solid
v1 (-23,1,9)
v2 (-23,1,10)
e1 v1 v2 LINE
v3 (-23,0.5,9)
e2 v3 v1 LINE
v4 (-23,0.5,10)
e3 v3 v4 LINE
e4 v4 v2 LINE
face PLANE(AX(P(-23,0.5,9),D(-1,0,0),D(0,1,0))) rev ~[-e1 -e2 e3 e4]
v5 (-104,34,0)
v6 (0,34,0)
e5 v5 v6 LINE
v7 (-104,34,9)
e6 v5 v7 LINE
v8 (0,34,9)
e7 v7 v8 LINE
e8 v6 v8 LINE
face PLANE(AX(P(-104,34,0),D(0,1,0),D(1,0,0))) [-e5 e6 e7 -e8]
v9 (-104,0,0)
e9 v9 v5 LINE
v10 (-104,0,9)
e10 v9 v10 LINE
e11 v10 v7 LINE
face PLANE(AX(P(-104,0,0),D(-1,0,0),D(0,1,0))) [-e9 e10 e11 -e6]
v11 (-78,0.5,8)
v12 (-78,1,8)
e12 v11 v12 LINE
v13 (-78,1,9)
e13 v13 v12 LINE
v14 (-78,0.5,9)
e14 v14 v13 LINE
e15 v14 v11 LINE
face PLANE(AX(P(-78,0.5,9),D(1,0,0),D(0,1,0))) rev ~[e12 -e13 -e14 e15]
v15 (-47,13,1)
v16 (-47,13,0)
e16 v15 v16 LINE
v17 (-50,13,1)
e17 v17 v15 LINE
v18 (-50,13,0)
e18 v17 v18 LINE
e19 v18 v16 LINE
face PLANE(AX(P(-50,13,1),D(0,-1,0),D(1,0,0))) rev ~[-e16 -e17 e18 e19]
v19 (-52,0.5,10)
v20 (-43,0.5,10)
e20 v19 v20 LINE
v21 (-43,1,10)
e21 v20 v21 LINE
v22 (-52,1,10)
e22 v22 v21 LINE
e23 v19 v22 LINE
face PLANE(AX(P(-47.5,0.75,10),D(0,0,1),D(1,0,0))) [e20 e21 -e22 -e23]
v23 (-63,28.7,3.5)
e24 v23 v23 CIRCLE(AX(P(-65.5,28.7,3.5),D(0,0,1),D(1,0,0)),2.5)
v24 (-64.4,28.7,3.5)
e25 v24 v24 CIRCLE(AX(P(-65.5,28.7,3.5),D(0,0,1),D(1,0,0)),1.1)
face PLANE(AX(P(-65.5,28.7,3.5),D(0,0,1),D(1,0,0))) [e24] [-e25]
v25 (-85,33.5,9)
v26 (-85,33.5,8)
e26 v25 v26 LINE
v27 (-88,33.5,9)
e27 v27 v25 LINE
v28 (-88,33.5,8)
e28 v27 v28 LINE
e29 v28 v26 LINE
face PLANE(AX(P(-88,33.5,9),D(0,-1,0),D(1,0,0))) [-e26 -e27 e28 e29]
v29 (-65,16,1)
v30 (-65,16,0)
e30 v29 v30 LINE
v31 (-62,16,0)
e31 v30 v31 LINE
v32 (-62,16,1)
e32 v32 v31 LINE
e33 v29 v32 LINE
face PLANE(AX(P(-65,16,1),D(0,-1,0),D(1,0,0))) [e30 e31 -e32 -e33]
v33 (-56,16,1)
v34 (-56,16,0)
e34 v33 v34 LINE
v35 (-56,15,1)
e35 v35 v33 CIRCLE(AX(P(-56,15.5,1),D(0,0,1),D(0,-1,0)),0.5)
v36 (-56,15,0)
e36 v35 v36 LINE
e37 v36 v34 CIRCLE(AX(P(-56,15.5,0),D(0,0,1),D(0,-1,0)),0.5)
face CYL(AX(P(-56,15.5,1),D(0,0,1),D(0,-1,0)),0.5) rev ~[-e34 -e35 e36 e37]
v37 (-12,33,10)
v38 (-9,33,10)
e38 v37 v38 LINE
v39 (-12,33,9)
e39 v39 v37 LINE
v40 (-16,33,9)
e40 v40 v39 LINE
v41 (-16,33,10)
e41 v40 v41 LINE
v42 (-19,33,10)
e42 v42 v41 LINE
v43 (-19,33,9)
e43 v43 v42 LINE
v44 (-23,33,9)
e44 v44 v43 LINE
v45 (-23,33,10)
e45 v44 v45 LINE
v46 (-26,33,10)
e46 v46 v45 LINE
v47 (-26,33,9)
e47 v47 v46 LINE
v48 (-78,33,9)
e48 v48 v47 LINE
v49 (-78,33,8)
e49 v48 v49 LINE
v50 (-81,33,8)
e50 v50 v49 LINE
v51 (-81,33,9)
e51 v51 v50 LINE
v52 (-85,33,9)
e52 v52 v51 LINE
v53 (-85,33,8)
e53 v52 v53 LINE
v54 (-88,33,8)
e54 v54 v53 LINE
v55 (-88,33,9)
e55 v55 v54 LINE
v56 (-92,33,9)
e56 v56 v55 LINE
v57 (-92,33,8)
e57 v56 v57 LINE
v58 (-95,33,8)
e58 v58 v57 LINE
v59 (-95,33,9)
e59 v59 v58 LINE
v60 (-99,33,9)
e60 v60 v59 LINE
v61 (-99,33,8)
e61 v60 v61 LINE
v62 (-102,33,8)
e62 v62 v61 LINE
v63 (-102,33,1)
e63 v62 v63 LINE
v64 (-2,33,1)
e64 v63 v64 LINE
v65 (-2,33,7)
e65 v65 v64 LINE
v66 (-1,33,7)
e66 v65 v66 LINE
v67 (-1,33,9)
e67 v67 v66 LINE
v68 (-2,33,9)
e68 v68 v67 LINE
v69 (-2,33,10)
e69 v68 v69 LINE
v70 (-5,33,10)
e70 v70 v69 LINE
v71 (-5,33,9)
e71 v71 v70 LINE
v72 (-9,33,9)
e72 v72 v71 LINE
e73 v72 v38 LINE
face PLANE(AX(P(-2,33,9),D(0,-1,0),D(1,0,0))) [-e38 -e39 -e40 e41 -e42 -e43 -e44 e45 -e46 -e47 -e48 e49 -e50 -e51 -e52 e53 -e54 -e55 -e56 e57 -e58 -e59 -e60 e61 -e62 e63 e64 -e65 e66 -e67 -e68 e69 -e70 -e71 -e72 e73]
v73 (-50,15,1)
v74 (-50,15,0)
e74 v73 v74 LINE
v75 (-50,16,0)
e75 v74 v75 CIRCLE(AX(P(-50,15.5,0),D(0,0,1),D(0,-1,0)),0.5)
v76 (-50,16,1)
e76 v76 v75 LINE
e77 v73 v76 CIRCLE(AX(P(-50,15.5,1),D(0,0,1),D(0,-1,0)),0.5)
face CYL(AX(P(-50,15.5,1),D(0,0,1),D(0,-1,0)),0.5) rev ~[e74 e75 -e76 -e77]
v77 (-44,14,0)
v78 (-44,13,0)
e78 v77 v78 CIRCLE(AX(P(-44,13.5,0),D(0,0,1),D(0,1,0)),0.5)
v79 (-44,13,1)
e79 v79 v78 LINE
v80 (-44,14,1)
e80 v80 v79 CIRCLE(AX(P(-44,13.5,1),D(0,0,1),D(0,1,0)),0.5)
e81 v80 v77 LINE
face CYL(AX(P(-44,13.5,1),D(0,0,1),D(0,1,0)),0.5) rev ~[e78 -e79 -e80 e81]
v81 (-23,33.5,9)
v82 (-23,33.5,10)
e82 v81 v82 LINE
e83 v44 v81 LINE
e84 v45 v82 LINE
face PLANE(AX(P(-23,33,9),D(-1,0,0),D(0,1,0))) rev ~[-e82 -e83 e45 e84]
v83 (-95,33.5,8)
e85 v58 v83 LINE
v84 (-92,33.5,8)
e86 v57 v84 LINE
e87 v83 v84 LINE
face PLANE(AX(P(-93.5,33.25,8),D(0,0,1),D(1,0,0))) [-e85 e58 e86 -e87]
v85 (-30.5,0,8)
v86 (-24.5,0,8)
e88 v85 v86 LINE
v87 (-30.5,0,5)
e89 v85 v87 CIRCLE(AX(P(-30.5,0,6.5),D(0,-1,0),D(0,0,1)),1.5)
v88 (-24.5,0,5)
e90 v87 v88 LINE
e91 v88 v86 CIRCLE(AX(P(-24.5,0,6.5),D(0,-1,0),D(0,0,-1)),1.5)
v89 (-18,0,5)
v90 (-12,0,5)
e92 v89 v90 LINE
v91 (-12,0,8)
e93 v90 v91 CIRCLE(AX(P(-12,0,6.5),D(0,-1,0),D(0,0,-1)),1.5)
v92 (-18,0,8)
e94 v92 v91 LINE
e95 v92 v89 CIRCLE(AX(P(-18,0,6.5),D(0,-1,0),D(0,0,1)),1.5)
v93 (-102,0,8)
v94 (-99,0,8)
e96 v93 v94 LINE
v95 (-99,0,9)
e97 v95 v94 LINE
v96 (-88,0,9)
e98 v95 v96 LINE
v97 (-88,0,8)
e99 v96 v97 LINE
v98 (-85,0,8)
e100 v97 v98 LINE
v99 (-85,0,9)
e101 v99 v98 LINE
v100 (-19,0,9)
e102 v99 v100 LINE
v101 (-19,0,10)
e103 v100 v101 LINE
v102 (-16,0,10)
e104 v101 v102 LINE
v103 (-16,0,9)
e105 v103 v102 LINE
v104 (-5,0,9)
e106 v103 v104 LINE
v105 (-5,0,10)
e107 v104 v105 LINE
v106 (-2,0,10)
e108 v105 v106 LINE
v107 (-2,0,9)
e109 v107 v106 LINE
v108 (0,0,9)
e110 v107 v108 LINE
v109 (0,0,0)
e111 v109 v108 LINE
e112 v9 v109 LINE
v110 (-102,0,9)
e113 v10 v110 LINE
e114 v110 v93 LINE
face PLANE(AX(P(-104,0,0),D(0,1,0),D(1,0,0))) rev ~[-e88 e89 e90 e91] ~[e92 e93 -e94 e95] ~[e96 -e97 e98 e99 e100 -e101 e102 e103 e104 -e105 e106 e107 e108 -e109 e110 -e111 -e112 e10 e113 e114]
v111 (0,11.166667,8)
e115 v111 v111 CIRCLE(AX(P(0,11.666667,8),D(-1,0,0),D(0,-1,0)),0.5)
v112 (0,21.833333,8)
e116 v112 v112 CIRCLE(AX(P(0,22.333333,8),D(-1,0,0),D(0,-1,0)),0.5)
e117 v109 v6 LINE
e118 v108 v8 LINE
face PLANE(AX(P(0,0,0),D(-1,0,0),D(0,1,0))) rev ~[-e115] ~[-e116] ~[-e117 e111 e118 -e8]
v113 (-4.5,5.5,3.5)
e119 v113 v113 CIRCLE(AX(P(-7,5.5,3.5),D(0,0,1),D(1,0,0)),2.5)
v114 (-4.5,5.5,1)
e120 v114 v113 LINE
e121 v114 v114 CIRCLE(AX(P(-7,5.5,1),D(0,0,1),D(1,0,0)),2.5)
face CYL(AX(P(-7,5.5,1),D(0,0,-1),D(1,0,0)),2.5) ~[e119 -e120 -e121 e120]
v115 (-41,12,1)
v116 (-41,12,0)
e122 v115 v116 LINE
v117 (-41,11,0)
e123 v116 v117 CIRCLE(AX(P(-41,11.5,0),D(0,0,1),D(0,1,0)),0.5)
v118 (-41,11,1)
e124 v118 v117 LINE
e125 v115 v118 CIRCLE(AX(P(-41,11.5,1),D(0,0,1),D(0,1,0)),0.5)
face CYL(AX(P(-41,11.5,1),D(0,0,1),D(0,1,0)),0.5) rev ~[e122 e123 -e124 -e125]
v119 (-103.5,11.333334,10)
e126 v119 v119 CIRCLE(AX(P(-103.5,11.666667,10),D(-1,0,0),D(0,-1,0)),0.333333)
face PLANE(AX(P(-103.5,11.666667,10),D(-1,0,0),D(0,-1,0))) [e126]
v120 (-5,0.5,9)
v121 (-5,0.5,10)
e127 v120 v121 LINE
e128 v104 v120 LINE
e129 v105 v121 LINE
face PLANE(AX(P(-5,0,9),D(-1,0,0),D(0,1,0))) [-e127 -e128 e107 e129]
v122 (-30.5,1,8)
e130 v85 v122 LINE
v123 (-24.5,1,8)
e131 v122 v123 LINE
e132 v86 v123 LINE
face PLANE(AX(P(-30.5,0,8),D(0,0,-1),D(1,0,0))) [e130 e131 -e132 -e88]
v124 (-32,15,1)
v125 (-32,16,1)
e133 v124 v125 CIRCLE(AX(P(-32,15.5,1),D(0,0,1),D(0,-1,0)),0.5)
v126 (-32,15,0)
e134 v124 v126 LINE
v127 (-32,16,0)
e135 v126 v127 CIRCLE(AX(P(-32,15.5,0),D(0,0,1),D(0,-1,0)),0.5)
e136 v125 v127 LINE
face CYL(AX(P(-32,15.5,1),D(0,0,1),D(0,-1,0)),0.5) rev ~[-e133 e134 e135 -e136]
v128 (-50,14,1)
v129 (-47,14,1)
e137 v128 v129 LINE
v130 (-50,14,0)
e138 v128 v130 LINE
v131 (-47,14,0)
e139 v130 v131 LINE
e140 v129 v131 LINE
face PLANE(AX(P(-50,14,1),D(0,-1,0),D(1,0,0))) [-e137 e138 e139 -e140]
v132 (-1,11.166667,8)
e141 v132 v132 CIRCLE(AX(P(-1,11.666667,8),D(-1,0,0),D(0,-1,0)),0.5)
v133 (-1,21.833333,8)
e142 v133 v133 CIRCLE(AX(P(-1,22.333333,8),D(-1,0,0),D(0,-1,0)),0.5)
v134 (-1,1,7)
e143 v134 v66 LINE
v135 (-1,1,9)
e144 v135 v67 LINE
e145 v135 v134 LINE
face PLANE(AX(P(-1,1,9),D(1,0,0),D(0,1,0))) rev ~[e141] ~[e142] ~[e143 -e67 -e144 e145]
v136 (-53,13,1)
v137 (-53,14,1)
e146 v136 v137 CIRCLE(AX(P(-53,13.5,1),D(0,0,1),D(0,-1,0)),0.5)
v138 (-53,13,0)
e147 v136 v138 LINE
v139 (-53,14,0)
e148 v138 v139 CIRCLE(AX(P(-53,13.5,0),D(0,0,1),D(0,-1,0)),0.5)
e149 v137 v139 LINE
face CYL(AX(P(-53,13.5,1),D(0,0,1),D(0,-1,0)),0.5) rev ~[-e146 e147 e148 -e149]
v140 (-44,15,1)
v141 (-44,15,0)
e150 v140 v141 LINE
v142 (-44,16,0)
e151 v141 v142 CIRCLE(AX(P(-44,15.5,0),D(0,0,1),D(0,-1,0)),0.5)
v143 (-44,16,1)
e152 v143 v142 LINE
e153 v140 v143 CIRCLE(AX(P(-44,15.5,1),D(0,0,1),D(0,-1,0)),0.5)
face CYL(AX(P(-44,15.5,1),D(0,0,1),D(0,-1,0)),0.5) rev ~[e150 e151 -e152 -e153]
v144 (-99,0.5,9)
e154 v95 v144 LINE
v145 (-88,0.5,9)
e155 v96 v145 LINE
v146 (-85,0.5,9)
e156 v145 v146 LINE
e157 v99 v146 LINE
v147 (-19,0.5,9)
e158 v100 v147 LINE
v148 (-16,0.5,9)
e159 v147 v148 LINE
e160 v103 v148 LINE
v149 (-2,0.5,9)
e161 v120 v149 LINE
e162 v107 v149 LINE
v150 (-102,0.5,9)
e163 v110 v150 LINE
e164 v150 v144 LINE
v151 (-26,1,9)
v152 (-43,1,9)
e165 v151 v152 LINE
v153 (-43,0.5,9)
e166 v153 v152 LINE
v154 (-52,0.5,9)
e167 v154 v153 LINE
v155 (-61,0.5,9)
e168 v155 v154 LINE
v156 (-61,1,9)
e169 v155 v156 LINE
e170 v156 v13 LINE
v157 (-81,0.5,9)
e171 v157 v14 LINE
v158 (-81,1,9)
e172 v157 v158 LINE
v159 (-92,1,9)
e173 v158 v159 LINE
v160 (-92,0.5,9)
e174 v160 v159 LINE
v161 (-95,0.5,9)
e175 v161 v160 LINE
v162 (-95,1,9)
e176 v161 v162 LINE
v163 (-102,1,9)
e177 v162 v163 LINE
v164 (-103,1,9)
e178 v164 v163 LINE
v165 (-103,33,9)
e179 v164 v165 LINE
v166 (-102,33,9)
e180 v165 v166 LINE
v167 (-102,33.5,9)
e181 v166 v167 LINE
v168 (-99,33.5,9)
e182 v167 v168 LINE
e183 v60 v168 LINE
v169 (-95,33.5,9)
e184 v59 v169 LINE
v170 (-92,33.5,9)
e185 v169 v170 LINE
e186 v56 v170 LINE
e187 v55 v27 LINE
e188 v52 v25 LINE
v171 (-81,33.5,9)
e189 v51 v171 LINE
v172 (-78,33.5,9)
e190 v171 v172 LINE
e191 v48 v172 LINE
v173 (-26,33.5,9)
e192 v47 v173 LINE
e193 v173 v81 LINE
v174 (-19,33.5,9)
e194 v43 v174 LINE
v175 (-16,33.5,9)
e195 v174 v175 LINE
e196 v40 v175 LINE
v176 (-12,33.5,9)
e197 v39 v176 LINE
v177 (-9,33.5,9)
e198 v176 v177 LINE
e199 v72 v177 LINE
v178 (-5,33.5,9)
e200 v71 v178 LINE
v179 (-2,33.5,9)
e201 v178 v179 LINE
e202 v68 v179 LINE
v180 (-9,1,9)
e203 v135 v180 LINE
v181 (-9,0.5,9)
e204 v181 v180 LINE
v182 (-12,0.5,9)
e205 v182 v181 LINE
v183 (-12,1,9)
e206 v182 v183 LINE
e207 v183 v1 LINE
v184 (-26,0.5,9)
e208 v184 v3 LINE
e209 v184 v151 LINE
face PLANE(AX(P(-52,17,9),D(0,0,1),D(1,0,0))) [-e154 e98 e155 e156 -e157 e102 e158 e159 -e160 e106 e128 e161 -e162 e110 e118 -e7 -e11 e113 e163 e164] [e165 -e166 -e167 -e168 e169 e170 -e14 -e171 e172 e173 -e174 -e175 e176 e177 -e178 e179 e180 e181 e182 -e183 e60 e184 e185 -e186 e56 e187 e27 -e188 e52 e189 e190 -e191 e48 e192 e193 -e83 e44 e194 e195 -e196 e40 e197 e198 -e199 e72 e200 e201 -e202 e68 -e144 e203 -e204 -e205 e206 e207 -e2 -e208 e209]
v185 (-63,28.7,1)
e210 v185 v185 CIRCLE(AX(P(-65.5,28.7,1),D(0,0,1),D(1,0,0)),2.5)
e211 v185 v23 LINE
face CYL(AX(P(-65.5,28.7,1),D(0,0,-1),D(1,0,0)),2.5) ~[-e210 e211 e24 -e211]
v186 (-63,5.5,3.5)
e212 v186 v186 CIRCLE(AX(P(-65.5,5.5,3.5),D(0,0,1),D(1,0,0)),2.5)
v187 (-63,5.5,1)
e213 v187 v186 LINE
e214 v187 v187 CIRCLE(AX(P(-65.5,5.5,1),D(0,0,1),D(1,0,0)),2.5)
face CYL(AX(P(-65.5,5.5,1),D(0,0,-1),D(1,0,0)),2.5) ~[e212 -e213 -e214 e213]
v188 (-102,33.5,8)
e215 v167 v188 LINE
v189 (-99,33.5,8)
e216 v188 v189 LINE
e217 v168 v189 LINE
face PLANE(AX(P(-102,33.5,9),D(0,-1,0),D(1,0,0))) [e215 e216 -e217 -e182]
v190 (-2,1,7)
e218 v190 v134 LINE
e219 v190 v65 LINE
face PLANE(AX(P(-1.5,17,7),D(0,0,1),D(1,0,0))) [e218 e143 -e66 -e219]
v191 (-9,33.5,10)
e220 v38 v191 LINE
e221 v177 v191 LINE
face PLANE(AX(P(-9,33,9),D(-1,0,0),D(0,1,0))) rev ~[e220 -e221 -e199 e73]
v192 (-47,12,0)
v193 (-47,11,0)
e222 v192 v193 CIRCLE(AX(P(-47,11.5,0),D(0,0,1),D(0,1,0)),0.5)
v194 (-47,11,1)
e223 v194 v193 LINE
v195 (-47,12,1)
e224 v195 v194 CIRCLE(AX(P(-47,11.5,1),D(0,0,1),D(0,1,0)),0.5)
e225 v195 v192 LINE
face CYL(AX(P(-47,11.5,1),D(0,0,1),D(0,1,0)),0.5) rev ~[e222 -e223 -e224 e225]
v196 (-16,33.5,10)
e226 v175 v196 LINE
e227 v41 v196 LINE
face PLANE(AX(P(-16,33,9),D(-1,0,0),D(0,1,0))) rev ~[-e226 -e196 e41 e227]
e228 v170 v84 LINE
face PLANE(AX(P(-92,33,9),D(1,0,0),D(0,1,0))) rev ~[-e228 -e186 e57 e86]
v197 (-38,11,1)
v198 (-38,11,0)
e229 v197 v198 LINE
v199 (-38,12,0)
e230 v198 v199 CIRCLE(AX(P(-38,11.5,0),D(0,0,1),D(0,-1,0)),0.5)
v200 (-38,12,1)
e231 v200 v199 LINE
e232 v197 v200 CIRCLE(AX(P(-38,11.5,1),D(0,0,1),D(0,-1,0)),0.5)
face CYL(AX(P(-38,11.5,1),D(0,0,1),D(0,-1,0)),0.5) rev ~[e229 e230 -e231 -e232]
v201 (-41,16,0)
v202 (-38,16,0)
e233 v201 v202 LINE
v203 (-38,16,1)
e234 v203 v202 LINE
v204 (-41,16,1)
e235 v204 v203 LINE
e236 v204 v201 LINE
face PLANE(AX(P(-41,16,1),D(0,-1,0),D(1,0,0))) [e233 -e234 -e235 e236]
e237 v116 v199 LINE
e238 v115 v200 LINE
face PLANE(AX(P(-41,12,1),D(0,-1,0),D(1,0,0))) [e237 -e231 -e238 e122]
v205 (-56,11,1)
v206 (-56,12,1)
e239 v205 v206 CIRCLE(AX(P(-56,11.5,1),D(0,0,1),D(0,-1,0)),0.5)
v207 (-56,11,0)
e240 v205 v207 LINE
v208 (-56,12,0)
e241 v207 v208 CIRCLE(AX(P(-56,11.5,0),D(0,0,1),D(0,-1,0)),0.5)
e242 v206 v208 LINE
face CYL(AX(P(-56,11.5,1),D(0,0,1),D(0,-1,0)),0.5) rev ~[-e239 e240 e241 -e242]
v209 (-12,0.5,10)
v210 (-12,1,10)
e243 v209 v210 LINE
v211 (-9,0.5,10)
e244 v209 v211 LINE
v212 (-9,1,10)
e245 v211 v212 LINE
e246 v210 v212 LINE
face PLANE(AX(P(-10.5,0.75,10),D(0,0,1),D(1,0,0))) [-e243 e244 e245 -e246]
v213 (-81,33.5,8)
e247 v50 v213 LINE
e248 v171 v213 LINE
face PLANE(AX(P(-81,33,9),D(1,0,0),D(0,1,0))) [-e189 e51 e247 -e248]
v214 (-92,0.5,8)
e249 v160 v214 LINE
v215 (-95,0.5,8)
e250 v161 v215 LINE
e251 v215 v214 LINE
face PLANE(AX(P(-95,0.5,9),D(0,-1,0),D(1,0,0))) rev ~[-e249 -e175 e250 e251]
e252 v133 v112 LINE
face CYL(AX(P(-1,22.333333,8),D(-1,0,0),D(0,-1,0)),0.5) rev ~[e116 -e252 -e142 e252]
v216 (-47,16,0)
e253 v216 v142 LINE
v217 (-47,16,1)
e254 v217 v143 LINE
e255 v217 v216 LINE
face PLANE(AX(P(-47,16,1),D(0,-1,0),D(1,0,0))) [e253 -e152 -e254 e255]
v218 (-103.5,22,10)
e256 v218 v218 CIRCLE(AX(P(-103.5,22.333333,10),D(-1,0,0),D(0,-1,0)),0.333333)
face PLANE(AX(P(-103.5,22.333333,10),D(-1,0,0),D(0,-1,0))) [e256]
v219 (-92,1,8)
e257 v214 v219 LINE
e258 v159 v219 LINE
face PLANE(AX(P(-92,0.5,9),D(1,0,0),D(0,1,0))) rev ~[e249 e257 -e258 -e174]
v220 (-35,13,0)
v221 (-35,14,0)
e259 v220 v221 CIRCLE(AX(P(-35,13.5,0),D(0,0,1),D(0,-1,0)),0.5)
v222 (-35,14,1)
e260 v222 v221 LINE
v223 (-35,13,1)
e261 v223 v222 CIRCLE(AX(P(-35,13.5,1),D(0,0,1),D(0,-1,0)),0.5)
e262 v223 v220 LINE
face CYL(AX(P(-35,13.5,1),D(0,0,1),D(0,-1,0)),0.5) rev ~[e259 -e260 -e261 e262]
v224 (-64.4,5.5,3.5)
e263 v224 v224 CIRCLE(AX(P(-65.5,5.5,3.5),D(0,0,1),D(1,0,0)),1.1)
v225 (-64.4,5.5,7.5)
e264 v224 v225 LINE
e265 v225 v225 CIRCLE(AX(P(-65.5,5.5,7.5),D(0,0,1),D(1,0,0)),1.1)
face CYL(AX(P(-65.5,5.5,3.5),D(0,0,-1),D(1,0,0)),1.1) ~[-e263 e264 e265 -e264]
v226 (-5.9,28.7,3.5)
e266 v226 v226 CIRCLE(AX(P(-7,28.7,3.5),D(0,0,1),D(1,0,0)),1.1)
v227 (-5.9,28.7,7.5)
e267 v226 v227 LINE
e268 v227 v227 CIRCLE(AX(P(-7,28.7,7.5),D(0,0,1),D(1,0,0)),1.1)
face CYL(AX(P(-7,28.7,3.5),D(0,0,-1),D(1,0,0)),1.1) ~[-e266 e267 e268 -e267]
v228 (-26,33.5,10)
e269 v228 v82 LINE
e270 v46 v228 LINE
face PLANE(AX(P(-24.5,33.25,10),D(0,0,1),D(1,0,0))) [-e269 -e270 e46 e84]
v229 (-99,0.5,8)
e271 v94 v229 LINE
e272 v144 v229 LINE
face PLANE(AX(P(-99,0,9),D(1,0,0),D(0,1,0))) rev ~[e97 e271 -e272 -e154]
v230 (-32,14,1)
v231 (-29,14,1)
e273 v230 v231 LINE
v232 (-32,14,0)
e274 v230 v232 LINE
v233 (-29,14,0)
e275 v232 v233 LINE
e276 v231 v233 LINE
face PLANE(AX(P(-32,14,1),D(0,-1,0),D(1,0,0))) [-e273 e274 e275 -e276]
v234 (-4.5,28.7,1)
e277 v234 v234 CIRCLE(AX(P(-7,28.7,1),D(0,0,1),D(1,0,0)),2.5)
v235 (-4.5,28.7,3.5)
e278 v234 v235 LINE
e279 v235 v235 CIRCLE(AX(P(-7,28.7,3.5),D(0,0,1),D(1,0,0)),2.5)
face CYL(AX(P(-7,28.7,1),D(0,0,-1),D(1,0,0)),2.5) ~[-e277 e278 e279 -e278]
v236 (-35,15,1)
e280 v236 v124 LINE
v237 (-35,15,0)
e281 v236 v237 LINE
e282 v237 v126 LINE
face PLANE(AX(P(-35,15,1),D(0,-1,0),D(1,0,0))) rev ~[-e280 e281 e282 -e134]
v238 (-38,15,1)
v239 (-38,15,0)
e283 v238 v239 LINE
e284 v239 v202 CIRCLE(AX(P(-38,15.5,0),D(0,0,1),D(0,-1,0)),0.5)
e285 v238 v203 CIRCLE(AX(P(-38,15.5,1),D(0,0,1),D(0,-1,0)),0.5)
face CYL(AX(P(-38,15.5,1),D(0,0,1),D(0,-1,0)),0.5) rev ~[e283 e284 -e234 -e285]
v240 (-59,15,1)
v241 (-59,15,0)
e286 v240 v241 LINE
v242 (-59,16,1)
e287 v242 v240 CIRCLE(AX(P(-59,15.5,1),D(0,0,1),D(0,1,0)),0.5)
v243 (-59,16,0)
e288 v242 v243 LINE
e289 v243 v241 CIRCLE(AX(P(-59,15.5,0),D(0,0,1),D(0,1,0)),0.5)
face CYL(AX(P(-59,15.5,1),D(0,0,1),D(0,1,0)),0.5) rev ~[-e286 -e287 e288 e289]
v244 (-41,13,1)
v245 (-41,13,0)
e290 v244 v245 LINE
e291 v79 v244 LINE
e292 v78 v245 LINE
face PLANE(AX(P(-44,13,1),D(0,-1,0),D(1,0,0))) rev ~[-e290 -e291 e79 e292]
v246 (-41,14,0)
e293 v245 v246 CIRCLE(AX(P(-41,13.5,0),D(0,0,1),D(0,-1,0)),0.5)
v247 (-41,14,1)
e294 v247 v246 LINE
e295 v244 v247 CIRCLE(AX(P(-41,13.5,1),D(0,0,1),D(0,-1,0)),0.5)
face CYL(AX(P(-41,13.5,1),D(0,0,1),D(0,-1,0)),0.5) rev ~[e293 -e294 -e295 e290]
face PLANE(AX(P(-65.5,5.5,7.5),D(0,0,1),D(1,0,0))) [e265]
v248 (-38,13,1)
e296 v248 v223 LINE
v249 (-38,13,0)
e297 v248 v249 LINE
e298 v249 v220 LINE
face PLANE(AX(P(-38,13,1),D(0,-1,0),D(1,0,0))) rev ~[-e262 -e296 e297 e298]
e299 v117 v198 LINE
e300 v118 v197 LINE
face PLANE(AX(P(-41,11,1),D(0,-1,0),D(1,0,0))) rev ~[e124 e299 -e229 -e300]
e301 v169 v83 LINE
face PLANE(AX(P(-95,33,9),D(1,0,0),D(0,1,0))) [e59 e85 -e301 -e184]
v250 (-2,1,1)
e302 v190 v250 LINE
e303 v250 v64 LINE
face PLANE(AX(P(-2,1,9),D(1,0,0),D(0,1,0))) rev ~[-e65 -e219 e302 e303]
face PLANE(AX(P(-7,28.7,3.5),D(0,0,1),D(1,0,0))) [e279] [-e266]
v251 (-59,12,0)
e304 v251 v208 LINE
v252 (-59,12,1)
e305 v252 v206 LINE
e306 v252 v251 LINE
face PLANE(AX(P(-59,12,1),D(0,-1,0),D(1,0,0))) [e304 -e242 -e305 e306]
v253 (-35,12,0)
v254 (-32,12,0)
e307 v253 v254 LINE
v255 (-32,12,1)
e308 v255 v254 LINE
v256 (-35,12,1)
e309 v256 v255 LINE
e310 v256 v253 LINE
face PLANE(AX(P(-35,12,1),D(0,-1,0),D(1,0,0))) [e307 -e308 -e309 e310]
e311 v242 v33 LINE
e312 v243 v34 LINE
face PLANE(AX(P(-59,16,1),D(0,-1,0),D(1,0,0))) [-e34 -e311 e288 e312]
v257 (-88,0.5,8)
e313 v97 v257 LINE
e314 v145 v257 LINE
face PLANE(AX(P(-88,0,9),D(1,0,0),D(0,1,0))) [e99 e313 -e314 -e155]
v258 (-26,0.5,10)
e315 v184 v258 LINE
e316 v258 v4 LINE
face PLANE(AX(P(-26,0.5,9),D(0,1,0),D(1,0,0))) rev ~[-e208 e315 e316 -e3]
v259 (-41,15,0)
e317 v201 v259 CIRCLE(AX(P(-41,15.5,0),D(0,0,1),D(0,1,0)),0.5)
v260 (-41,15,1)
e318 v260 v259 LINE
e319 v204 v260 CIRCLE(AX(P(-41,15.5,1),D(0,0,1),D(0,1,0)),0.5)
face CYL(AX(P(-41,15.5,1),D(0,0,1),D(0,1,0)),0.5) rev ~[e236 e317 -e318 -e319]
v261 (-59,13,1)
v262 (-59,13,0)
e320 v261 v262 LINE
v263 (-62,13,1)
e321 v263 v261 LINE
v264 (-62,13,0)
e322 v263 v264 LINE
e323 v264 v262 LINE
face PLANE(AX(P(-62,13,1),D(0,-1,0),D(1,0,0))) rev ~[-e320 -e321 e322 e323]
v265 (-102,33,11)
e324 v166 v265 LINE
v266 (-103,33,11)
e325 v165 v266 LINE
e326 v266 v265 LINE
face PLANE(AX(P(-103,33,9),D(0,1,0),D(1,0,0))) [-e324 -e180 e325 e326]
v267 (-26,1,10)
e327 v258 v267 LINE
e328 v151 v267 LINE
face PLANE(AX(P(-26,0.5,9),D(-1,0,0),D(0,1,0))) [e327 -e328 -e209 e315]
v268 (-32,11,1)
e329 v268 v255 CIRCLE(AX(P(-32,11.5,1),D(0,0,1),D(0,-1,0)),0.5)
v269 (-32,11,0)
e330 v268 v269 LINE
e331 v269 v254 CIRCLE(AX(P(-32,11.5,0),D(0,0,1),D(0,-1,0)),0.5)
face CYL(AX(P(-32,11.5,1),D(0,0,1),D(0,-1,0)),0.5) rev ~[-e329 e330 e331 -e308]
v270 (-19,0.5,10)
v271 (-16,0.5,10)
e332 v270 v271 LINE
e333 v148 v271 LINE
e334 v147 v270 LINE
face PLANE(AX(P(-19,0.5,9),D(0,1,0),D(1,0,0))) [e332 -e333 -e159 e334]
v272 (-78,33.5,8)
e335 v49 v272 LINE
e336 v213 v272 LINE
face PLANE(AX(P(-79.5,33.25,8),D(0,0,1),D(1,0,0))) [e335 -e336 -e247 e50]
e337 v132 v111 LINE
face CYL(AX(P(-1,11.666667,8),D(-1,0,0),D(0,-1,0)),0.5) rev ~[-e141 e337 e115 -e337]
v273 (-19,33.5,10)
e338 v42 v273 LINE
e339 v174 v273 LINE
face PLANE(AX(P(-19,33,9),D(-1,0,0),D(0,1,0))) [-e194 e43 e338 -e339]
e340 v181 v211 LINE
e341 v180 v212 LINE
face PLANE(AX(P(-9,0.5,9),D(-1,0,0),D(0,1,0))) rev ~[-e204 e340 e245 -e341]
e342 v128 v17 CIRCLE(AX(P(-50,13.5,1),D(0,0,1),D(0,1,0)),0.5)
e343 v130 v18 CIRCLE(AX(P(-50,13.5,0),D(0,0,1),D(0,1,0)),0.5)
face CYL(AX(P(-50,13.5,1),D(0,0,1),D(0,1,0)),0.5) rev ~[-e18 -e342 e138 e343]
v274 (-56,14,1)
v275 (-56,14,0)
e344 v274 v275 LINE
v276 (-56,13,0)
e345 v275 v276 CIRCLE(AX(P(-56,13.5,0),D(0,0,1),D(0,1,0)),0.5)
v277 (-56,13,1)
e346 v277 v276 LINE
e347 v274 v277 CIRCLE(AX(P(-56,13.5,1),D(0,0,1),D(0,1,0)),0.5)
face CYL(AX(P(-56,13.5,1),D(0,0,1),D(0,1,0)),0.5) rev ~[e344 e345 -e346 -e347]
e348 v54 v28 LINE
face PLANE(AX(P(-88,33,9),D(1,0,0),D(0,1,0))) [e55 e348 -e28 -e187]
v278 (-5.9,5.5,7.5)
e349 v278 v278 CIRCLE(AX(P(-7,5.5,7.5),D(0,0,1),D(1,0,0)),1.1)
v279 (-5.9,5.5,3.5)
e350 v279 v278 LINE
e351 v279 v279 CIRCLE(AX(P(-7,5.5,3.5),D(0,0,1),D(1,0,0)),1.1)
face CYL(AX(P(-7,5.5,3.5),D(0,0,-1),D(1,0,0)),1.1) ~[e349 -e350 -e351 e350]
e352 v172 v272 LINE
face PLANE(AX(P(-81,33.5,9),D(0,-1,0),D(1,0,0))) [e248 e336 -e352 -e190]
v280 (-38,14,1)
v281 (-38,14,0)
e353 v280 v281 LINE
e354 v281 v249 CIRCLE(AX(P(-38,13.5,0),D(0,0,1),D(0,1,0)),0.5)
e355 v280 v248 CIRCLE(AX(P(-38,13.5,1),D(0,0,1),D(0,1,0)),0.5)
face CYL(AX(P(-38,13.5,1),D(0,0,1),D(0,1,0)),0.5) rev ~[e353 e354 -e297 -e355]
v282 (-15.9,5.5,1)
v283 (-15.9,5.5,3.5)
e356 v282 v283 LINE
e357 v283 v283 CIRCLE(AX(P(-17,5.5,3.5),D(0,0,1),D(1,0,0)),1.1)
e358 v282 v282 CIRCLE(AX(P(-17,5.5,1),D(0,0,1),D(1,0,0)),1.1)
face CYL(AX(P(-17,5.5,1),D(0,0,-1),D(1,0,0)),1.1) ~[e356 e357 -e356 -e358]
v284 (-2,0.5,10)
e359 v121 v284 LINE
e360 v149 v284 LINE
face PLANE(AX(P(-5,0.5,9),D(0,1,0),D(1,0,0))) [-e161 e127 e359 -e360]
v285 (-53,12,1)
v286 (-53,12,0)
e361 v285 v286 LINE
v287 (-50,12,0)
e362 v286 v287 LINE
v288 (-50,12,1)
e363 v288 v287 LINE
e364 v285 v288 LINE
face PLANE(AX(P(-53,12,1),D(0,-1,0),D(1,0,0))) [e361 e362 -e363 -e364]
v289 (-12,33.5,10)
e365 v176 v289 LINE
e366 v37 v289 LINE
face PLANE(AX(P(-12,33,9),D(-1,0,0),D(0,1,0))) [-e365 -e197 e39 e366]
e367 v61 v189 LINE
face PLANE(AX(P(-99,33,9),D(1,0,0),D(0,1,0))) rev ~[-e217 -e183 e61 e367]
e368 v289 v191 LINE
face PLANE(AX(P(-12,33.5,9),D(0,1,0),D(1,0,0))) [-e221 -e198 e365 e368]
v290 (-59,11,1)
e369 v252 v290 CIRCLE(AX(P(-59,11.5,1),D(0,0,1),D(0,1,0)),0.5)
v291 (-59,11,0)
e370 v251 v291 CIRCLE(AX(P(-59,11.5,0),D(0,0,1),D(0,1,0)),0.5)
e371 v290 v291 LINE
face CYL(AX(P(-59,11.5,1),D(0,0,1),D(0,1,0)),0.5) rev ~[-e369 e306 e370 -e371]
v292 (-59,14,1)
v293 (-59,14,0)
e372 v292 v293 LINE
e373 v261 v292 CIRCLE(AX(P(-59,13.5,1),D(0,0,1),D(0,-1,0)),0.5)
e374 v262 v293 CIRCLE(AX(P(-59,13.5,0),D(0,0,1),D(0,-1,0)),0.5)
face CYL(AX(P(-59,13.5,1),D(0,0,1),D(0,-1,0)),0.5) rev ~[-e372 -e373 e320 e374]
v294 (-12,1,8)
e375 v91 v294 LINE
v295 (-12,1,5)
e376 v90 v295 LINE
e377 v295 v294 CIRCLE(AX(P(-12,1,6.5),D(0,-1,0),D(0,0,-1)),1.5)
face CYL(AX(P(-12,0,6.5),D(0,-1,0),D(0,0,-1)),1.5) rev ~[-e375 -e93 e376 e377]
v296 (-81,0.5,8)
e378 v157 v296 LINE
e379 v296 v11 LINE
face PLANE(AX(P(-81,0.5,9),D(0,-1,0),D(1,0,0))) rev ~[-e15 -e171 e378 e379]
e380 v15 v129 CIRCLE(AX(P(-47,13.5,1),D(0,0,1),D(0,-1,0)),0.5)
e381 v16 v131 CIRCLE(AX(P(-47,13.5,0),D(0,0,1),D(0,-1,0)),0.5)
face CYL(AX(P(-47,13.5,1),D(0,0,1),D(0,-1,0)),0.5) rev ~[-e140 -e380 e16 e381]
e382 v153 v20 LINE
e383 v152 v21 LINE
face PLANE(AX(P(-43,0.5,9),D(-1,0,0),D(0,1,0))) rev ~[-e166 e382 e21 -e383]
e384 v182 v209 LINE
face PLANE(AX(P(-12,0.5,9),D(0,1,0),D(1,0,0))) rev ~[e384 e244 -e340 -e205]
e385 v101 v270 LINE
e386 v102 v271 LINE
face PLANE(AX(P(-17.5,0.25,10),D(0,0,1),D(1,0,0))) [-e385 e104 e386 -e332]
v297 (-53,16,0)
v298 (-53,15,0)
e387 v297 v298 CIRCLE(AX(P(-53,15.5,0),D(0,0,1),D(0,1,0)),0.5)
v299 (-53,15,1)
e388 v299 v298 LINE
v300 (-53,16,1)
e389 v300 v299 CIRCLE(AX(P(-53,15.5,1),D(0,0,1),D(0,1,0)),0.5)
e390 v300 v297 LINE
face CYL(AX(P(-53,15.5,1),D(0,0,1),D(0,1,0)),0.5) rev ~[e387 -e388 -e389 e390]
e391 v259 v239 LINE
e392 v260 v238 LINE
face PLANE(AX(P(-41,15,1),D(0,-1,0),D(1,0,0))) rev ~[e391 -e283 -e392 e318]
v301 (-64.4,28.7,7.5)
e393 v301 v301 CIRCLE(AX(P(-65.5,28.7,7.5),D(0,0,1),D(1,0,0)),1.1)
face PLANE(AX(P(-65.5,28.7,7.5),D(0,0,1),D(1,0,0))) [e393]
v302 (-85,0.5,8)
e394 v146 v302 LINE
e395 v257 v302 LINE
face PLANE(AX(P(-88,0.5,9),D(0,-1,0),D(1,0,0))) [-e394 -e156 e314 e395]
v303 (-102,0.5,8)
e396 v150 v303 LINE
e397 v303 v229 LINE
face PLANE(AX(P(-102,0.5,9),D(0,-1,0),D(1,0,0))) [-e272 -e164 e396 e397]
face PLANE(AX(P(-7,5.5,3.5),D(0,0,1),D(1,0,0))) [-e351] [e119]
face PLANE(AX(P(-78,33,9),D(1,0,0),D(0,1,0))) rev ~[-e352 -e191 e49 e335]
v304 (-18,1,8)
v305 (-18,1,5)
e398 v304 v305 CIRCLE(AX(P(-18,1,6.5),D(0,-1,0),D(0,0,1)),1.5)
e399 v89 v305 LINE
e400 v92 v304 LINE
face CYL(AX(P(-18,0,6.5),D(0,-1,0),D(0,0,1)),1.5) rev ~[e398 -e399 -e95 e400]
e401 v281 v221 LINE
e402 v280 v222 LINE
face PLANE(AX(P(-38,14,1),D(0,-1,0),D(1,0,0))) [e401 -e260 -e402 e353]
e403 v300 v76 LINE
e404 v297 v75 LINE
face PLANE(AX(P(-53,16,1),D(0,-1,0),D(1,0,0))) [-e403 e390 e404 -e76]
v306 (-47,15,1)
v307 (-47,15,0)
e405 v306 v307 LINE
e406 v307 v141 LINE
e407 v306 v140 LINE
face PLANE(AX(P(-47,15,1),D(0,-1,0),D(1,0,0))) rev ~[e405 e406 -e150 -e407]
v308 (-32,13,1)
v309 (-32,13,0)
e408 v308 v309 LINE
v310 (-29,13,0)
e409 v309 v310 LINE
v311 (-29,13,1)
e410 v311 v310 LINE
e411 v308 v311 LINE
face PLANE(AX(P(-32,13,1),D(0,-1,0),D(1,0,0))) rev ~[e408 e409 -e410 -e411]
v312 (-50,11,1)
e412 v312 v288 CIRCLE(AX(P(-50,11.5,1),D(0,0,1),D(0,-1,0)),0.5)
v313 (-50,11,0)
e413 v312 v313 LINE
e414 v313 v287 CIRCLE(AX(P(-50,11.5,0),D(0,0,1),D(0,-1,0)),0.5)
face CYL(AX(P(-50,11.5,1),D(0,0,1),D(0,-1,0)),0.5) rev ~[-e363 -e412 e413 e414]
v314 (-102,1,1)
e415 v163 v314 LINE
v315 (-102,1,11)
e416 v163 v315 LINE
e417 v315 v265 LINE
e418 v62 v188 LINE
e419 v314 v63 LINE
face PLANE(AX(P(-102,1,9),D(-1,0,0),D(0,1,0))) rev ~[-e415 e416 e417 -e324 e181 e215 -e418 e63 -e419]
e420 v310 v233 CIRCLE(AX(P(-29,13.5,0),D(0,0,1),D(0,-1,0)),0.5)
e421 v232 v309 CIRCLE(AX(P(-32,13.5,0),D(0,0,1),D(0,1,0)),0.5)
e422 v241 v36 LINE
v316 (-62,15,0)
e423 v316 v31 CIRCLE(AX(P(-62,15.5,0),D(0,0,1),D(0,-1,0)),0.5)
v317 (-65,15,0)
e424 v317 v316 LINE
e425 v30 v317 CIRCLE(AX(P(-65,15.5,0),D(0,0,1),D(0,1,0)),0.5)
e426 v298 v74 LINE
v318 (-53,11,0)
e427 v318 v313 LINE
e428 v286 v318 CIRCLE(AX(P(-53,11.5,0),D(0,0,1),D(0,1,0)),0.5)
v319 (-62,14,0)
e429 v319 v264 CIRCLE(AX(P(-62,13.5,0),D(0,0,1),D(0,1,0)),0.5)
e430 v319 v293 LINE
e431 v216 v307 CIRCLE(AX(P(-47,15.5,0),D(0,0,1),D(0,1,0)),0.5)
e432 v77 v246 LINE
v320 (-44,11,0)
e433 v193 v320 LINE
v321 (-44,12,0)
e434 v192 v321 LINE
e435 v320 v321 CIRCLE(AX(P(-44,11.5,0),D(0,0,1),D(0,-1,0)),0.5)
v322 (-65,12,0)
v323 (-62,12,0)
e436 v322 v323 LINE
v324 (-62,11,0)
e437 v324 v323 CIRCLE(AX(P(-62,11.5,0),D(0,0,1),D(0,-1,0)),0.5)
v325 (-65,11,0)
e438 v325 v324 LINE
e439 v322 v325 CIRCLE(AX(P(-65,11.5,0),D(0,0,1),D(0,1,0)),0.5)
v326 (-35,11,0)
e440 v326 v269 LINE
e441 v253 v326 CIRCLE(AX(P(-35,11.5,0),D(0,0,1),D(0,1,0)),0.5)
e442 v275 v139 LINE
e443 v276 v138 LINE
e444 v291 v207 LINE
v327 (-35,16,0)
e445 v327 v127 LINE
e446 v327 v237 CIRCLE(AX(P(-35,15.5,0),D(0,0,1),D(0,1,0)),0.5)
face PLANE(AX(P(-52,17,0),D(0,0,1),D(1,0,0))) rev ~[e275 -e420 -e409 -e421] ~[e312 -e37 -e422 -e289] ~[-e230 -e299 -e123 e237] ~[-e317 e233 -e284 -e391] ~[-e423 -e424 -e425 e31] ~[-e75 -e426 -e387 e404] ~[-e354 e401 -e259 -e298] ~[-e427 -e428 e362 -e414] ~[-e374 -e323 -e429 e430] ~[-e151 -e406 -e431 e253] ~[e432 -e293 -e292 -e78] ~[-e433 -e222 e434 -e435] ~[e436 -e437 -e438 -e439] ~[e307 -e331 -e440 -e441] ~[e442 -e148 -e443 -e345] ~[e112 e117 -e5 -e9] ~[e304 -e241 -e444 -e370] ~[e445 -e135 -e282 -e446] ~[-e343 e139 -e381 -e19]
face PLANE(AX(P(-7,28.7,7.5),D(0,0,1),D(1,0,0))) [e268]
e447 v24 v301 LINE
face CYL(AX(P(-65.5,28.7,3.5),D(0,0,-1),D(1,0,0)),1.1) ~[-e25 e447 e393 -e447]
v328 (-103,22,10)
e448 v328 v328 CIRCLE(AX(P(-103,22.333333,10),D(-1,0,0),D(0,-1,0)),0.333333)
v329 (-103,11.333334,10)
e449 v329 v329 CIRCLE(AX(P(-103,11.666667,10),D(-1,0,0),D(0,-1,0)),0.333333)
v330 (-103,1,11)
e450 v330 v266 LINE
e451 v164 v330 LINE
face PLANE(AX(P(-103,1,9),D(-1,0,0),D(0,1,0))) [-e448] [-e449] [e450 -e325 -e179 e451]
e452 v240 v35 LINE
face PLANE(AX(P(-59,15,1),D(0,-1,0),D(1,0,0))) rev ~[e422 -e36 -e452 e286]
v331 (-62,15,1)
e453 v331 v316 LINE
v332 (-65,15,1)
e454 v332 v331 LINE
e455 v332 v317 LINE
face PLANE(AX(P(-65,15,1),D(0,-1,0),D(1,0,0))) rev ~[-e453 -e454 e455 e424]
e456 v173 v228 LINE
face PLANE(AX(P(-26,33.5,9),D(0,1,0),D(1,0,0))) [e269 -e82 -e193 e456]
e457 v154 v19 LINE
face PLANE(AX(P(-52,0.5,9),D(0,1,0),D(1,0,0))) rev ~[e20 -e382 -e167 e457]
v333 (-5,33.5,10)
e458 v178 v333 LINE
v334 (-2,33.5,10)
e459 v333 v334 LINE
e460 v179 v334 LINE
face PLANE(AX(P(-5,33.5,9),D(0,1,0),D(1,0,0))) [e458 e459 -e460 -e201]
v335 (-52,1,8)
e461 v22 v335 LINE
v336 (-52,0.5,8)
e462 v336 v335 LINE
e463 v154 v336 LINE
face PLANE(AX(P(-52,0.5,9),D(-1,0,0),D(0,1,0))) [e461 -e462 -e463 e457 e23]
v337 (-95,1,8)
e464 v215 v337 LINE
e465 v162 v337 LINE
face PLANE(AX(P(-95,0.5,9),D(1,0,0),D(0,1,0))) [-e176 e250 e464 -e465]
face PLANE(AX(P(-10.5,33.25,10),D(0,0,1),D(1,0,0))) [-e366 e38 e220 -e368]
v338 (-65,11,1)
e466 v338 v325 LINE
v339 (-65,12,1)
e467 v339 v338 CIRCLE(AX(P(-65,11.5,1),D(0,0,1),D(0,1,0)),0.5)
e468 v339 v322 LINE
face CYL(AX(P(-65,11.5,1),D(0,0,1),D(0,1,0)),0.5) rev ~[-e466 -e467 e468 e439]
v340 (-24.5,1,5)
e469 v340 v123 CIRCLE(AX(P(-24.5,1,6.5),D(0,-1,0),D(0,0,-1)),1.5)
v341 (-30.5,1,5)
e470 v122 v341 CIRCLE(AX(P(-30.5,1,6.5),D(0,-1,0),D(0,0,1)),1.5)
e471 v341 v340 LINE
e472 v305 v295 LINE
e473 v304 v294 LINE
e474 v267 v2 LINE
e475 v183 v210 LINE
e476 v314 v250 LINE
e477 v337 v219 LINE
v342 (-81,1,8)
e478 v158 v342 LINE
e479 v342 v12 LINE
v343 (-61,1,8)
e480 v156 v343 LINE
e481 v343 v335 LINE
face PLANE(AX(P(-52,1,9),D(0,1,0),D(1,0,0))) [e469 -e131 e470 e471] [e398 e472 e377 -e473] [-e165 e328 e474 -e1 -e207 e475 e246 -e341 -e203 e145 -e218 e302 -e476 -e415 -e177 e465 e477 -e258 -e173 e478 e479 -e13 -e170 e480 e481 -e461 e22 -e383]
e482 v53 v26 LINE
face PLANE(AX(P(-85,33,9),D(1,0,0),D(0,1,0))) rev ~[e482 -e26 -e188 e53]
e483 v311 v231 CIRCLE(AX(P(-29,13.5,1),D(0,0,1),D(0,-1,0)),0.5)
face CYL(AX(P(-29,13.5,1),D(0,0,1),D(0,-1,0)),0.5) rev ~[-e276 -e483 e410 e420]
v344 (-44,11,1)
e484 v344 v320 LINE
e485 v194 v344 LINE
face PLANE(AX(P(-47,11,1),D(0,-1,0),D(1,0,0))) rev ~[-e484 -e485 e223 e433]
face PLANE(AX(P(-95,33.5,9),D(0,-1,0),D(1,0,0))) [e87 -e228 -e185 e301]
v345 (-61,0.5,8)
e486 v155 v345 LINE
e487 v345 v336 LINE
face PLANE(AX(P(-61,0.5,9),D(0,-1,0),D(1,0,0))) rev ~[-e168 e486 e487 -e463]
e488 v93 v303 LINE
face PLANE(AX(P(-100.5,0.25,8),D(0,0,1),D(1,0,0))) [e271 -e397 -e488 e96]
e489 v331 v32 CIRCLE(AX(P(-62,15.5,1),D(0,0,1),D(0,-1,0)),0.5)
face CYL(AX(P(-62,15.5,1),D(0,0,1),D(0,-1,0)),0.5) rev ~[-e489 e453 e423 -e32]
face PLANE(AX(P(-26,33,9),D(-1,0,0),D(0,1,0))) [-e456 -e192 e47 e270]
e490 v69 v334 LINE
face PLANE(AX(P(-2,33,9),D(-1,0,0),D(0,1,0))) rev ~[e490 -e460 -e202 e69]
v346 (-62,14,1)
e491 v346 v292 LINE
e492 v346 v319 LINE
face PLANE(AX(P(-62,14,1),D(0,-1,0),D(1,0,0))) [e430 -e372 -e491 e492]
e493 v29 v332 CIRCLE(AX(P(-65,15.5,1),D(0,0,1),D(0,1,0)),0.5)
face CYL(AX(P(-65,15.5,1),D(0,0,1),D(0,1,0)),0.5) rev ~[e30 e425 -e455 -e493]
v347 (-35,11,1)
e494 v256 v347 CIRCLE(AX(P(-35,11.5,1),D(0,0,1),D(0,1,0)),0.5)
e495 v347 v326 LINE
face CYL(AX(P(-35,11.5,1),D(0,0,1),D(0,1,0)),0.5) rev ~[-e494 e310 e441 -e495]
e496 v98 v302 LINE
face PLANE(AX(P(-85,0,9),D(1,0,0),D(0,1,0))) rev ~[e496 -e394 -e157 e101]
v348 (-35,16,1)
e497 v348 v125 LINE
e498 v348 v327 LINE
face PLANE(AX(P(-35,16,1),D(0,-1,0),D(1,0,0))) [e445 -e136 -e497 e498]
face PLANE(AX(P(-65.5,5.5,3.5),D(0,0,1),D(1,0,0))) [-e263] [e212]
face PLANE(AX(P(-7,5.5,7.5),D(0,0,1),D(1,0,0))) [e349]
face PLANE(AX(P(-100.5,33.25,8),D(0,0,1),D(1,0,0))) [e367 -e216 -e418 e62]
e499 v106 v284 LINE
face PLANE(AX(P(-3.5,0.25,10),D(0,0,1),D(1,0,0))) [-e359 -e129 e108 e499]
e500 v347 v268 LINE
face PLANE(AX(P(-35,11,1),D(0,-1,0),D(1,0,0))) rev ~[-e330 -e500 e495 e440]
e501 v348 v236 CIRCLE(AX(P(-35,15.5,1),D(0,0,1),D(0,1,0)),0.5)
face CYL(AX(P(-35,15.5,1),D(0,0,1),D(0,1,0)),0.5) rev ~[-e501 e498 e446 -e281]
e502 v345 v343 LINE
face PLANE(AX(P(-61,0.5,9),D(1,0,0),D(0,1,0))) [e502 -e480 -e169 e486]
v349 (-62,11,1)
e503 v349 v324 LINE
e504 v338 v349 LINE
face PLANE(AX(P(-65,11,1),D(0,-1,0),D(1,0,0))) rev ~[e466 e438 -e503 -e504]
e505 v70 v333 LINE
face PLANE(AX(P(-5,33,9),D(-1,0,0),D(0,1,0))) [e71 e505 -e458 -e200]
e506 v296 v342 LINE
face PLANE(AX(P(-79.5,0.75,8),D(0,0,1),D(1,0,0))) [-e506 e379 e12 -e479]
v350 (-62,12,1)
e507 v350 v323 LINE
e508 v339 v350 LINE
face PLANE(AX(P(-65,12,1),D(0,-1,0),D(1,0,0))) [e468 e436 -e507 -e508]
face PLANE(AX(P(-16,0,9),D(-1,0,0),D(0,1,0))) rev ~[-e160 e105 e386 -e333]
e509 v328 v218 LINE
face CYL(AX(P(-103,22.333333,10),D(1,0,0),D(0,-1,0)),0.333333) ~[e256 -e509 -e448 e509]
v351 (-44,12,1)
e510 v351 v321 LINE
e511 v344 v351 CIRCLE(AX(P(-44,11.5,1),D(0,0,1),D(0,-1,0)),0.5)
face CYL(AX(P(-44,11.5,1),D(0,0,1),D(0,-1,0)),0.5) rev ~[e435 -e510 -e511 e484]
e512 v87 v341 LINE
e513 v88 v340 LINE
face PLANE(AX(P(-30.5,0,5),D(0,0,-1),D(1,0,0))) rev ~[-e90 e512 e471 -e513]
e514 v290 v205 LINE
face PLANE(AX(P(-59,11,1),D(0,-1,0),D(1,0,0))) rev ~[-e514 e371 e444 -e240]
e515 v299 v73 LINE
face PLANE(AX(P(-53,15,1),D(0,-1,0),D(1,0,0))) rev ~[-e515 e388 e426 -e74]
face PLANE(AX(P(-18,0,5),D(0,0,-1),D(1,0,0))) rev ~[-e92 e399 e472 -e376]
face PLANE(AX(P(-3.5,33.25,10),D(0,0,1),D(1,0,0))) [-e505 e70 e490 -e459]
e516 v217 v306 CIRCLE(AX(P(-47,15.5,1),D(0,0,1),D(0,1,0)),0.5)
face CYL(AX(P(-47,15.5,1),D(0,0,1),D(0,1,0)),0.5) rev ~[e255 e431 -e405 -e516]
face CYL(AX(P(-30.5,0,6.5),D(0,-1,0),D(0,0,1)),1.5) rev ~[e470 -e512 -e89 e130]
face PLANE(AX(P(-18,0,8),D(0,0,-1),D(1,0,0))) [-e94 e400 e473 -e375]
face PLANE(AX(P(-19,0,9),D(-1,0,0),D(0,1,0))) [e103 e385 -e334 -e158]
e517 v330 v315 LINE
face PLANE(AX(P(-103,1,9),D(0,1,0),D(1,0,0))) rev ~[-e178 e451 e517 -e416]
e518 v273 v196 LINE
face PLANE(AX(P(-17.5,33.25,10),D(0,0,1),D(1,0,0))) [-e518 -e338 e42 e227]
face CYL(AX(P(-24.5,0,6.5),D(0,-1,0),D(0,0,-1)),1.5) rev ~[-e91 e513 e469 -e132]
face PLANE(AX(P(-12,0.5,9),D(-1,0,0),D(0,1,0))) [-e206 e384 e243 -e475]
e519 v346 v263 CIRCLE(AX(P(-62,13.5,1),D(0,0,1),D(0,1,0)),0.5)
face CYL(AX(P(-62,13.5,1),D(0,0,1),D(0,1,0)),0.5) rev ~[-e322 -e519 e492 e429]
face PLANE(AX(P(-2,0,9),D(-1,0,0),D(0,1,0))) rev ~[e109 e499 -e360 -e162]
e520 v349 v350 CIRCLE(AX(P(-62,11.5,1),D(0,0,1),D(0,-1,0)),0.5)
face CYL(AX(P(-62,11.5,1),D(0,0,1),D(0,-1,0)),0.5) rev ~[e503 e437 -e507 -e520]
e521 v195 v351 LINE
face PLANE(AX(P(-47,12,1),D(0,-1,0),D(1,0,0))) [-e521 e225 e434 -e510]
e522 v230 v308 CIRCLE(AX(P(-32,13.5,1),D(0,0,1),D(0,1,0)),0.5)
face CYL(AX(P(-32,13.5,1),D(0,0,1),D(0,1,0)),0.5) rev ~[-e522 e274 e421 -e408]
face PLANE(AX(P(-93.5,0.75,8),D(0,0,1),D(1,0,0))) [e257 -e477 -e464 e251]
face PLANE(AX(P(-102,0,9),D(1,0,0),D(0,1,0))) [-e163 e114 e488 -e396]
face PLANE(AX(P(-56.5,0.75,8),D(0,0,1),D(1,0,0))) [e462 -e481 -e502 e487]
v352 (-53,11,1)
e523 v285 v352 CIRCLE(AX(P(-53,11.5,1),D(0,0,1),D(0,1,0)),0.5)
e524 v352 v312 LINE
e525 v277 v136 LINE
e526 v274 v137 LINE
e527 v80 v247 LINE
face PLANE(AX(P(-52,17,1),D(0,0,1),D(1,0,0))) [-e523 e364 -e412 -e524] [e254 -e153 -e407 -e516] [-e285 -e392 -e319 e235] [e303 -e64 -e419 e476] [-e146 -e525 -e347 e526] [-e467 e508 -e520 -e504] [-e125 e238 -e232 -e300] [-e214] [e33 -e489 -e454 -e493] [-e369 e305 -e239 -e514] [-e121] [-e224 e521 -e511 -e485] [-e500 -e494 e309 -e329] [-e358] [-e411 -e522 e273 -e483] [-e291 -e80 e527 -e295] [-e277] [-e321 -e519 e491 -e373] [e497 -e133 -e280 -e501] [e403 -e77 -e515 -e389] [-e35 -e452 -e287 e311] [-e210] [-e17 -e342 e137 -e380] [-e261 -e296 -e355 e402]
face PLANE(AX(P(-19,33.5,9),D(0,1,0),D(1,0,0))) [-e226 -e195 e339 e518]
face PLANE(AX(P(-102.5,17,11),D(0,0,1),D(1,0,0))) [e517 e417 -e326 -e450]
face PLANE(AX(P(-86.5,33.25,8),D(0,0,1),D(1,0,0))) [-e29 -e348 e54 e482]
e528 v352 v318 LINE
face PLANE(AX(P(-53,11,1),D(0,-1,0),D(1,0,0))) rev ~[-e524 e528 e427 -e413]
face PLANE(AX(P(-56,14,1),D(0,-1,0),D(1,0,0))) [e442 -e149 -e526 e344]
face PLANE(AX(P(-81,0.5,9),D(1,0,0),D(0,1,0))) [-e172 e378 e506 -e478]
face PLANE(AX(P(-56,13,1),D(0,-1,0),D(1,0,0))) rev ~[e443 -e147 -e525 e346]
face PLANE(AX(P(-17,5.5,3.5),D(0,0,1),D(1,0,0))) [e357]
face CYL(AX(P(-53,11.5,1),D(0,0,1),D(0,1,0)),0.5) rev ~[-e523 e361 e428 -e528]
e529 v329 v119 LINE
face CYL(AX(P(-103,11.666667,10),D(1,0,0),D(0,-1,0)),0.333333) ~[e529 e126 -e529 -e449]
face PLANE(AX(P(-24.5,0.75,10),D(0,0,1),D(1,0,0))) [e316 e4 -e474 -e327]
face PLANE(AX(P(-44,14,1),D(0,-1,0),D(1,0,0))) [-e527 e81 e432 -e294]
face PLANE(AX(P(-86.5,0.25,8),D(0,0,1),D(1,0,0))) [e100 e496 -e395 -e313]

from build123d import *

# Parameters (mm, degrees)
SKETCH_W            = 104
SKETCH_H            = 34
PAD_DEPTH           = 9
SKETCH001_W         = 100
SKETCH001_H         = 32
POCKET_DEPTH        = 8
SKETCH002_R         = 2.5
SKETCH002_R_2       = 1.1
PAD001_DEPTH        = 2.5
SKETCH003_R         = 1.1
PAD002_DEPTH        = 4
SKETCH004_R         = 1.1
PAD003_DEPTH        = 4
SKETCH005_R         = 1.1
PAD004_DEPTH        = 4
SKETCH006_R         = 1.1
PAD005_DEPTH        = 4
POCKET001_DEPTH     = 1
SKETCH008_W         = 1
SKETCH008_H         = 32
PAD006_DEPTH        = 2
SKETCH009_W         = 1
SKETCH009_H         = 32
POCKET002_DEPTH     = 2
POCKET003_DEPTH     = 1
LINEARPATTERN_COUNT = 6
LINEARPATTERN_PITCH = 6
SKETCH011_W         = 3
SKETCH011_H         = 0.5
POCKET004_DEPTH     = 1
SKETCH012_W         = 3
SKETCH012_H         = 0.5
PAD007_DEPTH        = 1
SKETCH013_W         = 9
SKETCH013_H         = 0.5
POCKET005_DEPTH     = 1
SKETCH014_W         = 9
SKETCH014_H         = 0.5
PAD008_DEPTH        = 1
SKETCH015_R         = 0.5
POCKET006_DEPTH     = 1
SKETCH016_R         = 0.333333
PAD009_DEPTH        = 0.5
SKETCH017_W         = 3
SKETCH017_H         = 0.5
PAD010_DEPTH        = 1
SKETCH018_W         = 3
SKETCH018_H         = 0.5
POCKET007_DEPTH     = 1


with BuildPart() as part:
    # Sketch → Pad (new body)
    with BuildSketch(Plane.XY):
        with Locations((-52, 17)):
            Rectangle(SKETCH_W, SKETCH_H)
    extrude(amount=PAD_DEPTH)

    # Sketch001 (on Face6 of Pad) → Pocket (cut)
    with BuildSketch(Plane.XY.offset(9)):
        with Locations((-52, 17)):
            Rectangle(SKETCH001_W, SKETCH001_H)
    extrude(amount=-POCKET_DEPTH, mode=Mode.SUBTRACT)

    # Sketch002 (on Face11 of Pocket) → Pad001 (join)
    with BuildSketch(Plane.XY.offset(1)):
        with Locations((-65.5, 5.5)):
            Circle(SKETCH002_R)
        with Locations((-65.5, 28.7)):
            Circle(SKETCH002_R)
        with Locations((-7, 28.7)):
            Circle(SKETCH002_R)
        with Locations((-7, 5.5)):
            Circle(SKETCH002_R)
        with Locations((-17, 5.5)):
            Circle(SKETCH002_R_2)
    extrude(amount=PAD001_DEPTH)

    # Sketch003 (on Face17 of Pad001) → Pad002 (join)
    with BuildSketch(Plane.XY.offset(3.5)):
        with Locations((-7, 5.5)):
            Circle(SKETCH003_R)
    extrude(amount=PAD002_DEPTH)

    # Sketch004 (on Face20 of Pad002) → Pad003 (join)
    with BuildSketch(Plane.XY.offset(3.5)):
        with Locations((-7, 28.7)):
            Circle(SKETCH004_R)
    extrude(amount=PAD003_DEPTH)

    # Sketch005 (on Face21 of Pad003) → Pad004 (join)
    with BuildSketch(Plane.XY.offset(3.5)):
        with Locations((-65.5, 28.7)):
            Circle(SKETCH005_R)
    extrude(amount=PAD004_DEPTH)

    # Sketch006 (on Face19 of Pad004) → Pad005 (join)
    with BuildSketch(Plane.XY.offset(3.5)):
        with Locations((-65.5, 5.5)):
            Circle(SKETCH006_R)
    extrude(amount=PAD005_DEPTH)

    # Sketch007 (on Face6 of Pad005) → Pocket001 (cut)
    with BuildSketch(Plane.XZ):
        with BuildLine():
            ThreePointArc((-18, 8), (-19.5, 6.5), (-18, 5))
            Line((-18, 5), (-12, 5))
            ThreePointArc((-12, 5), (-10.5, 6.5), (-12, 8))
            Line((-18, 8), (-12, 8))
        make_face()
        with BuildLine():
            ThreePointArc((-30.5, 8), (-32, 6.5), (-30.5, 5))
            Line((-30.5, 5), (-24.5, 5))
            ThreePointArc((-24.5, 5), (-23, 6.5), (-24.5, 8))
            Line((-30.5, 8), (-24.5, 8))
        make_face()
    extrude(amount=-POCKET001_DEPTH, mode=Mode.SUBTRACT)

    # Sketch008 (on Face5 of Pocket001) → Pad006 (join)
    with BuildSketch(Plane.XY.offset(9)):
        with Locations((-102.5, 17)):
            Rectangle(SKETCH008_W, SKETCH008_H)
    extrude(amount=PAD006_DEPTH)

    # Sketch009 (on Face5 of Pad006) → Pocket002 (cut)
    with BuildSketch(Plane.XY.offset(9)):
        with Locations((-1.5, 17)):
            Rectangle(SKETCH009_W, SKETCH009_H)
    extrude(amount=-POCKET002_DEPTH, mode=Mode.SUBTRACT)

    # Sketch010 (on Face25 of Pocket002) → Pocket003 (cut)
    with BuildSketch(Plane.XY.offset(1)):
        with BuildLine():
            ThreePointArc((-65, 12), (-65.5, 11.5), (-65, 11))
            Line((-65, 11), (-62, 11))
            ThreePointArc((-62, 11), (-61.5, 11.5), (-62, 12))
            Line((-65, 12), (-62, 12))
        make_face()
        with BuildLine():
            ThreePointArc((-62, 14), (-62.5, 13.5), (-62, 13))
            Line((-62, 13), (-59, 13))
            ThreePointArc((-59, 13), (-58.5, 13.5), (-59, 14))
            Line((-62, 14), (-59, 14))
        make_face()
        with BuildLine():
            ThreePointArc((-65, 16), (-65.5, 15.5), (-65, 15))
            Line((-65, 15), (-62, 15))
            ThreePointArc((-62, 15), (-61.5, 15.5), (-62, 16))
            Line((-65, 16), (-62, 16))
        make_face()
    pocket003 = extrude(amount=-POCKET003_DEPTH, mode=Mode.SUBTRACT)

    # LinearPattern: Pocket003 ×6
    with Locations(*[(i * LINEARPATTERN_PITCH, 0, 0) for i in range(1, LINEARPATTERN_COUNT)]):
        add(pocket003, mode=Mode.SUBTRACT)

    # Sketch011 (on Face5 of LinearPattern) → Pocket004 (cut)
    with BuildSketch(Plane.XY.offset(9)):
        with Locations((-100.5, 33.25)):
            Rectangle(SKETCH011_W, SKETCH011_H)
        with Locations((-93.5, 33.25)):
            Rectangle(SKETCH011_W, SKETCH011_H)
        with Locations((-86.5, 33.25)):
            Rectangle(SKETCH011_W, SKETCH011_H)
        with Locations((-79.5, 33.25)):
            Rectangle(SKETCH011_W, SKETCH011_H)
    extrude(amount=-POCKET004_DEPTH, mode=Mode.SUBTRACT)

    # Sketch012 (on Face5 of Pocket004) → Pad007 (join)
    with BuildSketch(Plane.XY.offset(9)):
        with Locations((-3.5, 33.25)):
            Rectangle(SKETCH012_W, SKETCH012_H)
        with Locations((-10.5, 33.25)):
            Rectangle(SKETCH012_W, SKETCH012_H)
        with Locations((-17.5, 33.25)):
            Rectangle(SKETCH012_W, SKETCH012_H)
        with Locations((-24.5, 33.25)):
            Rectangle(SKETCH012_W, SKETCH012_H)
    extrude(amount=PAD007_DEPTH)

    # Sketch013 (on Face5 of Pad007) → Pocket005 (cut)
    with BuildSketch(Plane.XY.offset(9)):
        with Locations((-56.5, 0.75)):
            Rectangle(SKETCH013_W, SKETCH013_H)
    extrude(amount=-POCKET005_DEPTH, mode=Mode.SUBTRACT)

    # Sketch014 (on Face5 of Pocket005) → Pad008 (join)
    with BuildSketch(Plane.XY.offset(9)):
        with Locations((-47.5, 0.75)):
            Rectangle(SKETCH014_W, SKETCH014_H)
    extrude(amount=PAD008_DEPTH)

    # Sketch015 (on Face105 of Pad008) → Pocket006 (cut)
    with BuildSketch(Plane(origin=(-1, 0, 0), x_dir=(0, -1, 0), z_dir=(-1, 0, 0))):
        with Locations((-11.666667, 8)):
            Circle(SKETCH015_R)
        with Locations((-22.333333, 8)):
            Circle(SKETCH015_R)
    extrude(amount=-POCKET006_DEPTH, mode=Mode.SUBTRACT)

    # Sketch016 → Pad009 (join)
    with BuildSketch(Plane(origin=(-103, 0, 0), x_dir=(0, -1, 0), z_dir=(-1, 0, 0))):
        with Locations((-22.333333, 10)):
            Circle(SKETCH016_R)
        with Locations((-11.666667, 10)):
            Circle(SKETCH016_R)
    extrude(amount=PAD009_DEPTH)

    # Sketch017 (on Face5 of Pad009) → Pad010 (join)
    with BuildSketch(Plane.XY.offset(9)):
        with Locations((-3.5, 0.25)):
            Rectangle(SKETCH017_W, SKETCH017_H)
        with Locations((-10.5, 0.75)):
            Rectangle(SKETCH017_W, SKETCH017_H)
        with Locations((-17.5, 0.25)):
            Rectangle(SKETCH017_W, SKETCH017_H)
        with Locations((-24.5, 0.75)):
            Rectangle(SKETCH017_W, SKETCH017_H)
    extrude(amount=PAD010_DEPTH)

    # Sketch018 (on Face5 of Pad010) → Pocket007 (cut)
    with BuildSketch(Plane.XY.offset(9)):
        with Locations((-100.5, 0.25)):
            Rectangle(SKETCH018_W, SKETCH018_H)
        with Locations((-93.5, 0.75)):
            Rectangle(SKETCH018_W, SKETCH018_H)
        with Locations((-86.5, 0.25)):
            Rectangle(SKETCH018_W, SKETCH018_H)
        with Locations((-79.5, 0.75)):
            Rectangle(SKETCH018_W, SKETCH018_H)
    extrude(amount=-POCKET007_DEPTH, mode=Mode.SUBTRACT)


solid = part.part
